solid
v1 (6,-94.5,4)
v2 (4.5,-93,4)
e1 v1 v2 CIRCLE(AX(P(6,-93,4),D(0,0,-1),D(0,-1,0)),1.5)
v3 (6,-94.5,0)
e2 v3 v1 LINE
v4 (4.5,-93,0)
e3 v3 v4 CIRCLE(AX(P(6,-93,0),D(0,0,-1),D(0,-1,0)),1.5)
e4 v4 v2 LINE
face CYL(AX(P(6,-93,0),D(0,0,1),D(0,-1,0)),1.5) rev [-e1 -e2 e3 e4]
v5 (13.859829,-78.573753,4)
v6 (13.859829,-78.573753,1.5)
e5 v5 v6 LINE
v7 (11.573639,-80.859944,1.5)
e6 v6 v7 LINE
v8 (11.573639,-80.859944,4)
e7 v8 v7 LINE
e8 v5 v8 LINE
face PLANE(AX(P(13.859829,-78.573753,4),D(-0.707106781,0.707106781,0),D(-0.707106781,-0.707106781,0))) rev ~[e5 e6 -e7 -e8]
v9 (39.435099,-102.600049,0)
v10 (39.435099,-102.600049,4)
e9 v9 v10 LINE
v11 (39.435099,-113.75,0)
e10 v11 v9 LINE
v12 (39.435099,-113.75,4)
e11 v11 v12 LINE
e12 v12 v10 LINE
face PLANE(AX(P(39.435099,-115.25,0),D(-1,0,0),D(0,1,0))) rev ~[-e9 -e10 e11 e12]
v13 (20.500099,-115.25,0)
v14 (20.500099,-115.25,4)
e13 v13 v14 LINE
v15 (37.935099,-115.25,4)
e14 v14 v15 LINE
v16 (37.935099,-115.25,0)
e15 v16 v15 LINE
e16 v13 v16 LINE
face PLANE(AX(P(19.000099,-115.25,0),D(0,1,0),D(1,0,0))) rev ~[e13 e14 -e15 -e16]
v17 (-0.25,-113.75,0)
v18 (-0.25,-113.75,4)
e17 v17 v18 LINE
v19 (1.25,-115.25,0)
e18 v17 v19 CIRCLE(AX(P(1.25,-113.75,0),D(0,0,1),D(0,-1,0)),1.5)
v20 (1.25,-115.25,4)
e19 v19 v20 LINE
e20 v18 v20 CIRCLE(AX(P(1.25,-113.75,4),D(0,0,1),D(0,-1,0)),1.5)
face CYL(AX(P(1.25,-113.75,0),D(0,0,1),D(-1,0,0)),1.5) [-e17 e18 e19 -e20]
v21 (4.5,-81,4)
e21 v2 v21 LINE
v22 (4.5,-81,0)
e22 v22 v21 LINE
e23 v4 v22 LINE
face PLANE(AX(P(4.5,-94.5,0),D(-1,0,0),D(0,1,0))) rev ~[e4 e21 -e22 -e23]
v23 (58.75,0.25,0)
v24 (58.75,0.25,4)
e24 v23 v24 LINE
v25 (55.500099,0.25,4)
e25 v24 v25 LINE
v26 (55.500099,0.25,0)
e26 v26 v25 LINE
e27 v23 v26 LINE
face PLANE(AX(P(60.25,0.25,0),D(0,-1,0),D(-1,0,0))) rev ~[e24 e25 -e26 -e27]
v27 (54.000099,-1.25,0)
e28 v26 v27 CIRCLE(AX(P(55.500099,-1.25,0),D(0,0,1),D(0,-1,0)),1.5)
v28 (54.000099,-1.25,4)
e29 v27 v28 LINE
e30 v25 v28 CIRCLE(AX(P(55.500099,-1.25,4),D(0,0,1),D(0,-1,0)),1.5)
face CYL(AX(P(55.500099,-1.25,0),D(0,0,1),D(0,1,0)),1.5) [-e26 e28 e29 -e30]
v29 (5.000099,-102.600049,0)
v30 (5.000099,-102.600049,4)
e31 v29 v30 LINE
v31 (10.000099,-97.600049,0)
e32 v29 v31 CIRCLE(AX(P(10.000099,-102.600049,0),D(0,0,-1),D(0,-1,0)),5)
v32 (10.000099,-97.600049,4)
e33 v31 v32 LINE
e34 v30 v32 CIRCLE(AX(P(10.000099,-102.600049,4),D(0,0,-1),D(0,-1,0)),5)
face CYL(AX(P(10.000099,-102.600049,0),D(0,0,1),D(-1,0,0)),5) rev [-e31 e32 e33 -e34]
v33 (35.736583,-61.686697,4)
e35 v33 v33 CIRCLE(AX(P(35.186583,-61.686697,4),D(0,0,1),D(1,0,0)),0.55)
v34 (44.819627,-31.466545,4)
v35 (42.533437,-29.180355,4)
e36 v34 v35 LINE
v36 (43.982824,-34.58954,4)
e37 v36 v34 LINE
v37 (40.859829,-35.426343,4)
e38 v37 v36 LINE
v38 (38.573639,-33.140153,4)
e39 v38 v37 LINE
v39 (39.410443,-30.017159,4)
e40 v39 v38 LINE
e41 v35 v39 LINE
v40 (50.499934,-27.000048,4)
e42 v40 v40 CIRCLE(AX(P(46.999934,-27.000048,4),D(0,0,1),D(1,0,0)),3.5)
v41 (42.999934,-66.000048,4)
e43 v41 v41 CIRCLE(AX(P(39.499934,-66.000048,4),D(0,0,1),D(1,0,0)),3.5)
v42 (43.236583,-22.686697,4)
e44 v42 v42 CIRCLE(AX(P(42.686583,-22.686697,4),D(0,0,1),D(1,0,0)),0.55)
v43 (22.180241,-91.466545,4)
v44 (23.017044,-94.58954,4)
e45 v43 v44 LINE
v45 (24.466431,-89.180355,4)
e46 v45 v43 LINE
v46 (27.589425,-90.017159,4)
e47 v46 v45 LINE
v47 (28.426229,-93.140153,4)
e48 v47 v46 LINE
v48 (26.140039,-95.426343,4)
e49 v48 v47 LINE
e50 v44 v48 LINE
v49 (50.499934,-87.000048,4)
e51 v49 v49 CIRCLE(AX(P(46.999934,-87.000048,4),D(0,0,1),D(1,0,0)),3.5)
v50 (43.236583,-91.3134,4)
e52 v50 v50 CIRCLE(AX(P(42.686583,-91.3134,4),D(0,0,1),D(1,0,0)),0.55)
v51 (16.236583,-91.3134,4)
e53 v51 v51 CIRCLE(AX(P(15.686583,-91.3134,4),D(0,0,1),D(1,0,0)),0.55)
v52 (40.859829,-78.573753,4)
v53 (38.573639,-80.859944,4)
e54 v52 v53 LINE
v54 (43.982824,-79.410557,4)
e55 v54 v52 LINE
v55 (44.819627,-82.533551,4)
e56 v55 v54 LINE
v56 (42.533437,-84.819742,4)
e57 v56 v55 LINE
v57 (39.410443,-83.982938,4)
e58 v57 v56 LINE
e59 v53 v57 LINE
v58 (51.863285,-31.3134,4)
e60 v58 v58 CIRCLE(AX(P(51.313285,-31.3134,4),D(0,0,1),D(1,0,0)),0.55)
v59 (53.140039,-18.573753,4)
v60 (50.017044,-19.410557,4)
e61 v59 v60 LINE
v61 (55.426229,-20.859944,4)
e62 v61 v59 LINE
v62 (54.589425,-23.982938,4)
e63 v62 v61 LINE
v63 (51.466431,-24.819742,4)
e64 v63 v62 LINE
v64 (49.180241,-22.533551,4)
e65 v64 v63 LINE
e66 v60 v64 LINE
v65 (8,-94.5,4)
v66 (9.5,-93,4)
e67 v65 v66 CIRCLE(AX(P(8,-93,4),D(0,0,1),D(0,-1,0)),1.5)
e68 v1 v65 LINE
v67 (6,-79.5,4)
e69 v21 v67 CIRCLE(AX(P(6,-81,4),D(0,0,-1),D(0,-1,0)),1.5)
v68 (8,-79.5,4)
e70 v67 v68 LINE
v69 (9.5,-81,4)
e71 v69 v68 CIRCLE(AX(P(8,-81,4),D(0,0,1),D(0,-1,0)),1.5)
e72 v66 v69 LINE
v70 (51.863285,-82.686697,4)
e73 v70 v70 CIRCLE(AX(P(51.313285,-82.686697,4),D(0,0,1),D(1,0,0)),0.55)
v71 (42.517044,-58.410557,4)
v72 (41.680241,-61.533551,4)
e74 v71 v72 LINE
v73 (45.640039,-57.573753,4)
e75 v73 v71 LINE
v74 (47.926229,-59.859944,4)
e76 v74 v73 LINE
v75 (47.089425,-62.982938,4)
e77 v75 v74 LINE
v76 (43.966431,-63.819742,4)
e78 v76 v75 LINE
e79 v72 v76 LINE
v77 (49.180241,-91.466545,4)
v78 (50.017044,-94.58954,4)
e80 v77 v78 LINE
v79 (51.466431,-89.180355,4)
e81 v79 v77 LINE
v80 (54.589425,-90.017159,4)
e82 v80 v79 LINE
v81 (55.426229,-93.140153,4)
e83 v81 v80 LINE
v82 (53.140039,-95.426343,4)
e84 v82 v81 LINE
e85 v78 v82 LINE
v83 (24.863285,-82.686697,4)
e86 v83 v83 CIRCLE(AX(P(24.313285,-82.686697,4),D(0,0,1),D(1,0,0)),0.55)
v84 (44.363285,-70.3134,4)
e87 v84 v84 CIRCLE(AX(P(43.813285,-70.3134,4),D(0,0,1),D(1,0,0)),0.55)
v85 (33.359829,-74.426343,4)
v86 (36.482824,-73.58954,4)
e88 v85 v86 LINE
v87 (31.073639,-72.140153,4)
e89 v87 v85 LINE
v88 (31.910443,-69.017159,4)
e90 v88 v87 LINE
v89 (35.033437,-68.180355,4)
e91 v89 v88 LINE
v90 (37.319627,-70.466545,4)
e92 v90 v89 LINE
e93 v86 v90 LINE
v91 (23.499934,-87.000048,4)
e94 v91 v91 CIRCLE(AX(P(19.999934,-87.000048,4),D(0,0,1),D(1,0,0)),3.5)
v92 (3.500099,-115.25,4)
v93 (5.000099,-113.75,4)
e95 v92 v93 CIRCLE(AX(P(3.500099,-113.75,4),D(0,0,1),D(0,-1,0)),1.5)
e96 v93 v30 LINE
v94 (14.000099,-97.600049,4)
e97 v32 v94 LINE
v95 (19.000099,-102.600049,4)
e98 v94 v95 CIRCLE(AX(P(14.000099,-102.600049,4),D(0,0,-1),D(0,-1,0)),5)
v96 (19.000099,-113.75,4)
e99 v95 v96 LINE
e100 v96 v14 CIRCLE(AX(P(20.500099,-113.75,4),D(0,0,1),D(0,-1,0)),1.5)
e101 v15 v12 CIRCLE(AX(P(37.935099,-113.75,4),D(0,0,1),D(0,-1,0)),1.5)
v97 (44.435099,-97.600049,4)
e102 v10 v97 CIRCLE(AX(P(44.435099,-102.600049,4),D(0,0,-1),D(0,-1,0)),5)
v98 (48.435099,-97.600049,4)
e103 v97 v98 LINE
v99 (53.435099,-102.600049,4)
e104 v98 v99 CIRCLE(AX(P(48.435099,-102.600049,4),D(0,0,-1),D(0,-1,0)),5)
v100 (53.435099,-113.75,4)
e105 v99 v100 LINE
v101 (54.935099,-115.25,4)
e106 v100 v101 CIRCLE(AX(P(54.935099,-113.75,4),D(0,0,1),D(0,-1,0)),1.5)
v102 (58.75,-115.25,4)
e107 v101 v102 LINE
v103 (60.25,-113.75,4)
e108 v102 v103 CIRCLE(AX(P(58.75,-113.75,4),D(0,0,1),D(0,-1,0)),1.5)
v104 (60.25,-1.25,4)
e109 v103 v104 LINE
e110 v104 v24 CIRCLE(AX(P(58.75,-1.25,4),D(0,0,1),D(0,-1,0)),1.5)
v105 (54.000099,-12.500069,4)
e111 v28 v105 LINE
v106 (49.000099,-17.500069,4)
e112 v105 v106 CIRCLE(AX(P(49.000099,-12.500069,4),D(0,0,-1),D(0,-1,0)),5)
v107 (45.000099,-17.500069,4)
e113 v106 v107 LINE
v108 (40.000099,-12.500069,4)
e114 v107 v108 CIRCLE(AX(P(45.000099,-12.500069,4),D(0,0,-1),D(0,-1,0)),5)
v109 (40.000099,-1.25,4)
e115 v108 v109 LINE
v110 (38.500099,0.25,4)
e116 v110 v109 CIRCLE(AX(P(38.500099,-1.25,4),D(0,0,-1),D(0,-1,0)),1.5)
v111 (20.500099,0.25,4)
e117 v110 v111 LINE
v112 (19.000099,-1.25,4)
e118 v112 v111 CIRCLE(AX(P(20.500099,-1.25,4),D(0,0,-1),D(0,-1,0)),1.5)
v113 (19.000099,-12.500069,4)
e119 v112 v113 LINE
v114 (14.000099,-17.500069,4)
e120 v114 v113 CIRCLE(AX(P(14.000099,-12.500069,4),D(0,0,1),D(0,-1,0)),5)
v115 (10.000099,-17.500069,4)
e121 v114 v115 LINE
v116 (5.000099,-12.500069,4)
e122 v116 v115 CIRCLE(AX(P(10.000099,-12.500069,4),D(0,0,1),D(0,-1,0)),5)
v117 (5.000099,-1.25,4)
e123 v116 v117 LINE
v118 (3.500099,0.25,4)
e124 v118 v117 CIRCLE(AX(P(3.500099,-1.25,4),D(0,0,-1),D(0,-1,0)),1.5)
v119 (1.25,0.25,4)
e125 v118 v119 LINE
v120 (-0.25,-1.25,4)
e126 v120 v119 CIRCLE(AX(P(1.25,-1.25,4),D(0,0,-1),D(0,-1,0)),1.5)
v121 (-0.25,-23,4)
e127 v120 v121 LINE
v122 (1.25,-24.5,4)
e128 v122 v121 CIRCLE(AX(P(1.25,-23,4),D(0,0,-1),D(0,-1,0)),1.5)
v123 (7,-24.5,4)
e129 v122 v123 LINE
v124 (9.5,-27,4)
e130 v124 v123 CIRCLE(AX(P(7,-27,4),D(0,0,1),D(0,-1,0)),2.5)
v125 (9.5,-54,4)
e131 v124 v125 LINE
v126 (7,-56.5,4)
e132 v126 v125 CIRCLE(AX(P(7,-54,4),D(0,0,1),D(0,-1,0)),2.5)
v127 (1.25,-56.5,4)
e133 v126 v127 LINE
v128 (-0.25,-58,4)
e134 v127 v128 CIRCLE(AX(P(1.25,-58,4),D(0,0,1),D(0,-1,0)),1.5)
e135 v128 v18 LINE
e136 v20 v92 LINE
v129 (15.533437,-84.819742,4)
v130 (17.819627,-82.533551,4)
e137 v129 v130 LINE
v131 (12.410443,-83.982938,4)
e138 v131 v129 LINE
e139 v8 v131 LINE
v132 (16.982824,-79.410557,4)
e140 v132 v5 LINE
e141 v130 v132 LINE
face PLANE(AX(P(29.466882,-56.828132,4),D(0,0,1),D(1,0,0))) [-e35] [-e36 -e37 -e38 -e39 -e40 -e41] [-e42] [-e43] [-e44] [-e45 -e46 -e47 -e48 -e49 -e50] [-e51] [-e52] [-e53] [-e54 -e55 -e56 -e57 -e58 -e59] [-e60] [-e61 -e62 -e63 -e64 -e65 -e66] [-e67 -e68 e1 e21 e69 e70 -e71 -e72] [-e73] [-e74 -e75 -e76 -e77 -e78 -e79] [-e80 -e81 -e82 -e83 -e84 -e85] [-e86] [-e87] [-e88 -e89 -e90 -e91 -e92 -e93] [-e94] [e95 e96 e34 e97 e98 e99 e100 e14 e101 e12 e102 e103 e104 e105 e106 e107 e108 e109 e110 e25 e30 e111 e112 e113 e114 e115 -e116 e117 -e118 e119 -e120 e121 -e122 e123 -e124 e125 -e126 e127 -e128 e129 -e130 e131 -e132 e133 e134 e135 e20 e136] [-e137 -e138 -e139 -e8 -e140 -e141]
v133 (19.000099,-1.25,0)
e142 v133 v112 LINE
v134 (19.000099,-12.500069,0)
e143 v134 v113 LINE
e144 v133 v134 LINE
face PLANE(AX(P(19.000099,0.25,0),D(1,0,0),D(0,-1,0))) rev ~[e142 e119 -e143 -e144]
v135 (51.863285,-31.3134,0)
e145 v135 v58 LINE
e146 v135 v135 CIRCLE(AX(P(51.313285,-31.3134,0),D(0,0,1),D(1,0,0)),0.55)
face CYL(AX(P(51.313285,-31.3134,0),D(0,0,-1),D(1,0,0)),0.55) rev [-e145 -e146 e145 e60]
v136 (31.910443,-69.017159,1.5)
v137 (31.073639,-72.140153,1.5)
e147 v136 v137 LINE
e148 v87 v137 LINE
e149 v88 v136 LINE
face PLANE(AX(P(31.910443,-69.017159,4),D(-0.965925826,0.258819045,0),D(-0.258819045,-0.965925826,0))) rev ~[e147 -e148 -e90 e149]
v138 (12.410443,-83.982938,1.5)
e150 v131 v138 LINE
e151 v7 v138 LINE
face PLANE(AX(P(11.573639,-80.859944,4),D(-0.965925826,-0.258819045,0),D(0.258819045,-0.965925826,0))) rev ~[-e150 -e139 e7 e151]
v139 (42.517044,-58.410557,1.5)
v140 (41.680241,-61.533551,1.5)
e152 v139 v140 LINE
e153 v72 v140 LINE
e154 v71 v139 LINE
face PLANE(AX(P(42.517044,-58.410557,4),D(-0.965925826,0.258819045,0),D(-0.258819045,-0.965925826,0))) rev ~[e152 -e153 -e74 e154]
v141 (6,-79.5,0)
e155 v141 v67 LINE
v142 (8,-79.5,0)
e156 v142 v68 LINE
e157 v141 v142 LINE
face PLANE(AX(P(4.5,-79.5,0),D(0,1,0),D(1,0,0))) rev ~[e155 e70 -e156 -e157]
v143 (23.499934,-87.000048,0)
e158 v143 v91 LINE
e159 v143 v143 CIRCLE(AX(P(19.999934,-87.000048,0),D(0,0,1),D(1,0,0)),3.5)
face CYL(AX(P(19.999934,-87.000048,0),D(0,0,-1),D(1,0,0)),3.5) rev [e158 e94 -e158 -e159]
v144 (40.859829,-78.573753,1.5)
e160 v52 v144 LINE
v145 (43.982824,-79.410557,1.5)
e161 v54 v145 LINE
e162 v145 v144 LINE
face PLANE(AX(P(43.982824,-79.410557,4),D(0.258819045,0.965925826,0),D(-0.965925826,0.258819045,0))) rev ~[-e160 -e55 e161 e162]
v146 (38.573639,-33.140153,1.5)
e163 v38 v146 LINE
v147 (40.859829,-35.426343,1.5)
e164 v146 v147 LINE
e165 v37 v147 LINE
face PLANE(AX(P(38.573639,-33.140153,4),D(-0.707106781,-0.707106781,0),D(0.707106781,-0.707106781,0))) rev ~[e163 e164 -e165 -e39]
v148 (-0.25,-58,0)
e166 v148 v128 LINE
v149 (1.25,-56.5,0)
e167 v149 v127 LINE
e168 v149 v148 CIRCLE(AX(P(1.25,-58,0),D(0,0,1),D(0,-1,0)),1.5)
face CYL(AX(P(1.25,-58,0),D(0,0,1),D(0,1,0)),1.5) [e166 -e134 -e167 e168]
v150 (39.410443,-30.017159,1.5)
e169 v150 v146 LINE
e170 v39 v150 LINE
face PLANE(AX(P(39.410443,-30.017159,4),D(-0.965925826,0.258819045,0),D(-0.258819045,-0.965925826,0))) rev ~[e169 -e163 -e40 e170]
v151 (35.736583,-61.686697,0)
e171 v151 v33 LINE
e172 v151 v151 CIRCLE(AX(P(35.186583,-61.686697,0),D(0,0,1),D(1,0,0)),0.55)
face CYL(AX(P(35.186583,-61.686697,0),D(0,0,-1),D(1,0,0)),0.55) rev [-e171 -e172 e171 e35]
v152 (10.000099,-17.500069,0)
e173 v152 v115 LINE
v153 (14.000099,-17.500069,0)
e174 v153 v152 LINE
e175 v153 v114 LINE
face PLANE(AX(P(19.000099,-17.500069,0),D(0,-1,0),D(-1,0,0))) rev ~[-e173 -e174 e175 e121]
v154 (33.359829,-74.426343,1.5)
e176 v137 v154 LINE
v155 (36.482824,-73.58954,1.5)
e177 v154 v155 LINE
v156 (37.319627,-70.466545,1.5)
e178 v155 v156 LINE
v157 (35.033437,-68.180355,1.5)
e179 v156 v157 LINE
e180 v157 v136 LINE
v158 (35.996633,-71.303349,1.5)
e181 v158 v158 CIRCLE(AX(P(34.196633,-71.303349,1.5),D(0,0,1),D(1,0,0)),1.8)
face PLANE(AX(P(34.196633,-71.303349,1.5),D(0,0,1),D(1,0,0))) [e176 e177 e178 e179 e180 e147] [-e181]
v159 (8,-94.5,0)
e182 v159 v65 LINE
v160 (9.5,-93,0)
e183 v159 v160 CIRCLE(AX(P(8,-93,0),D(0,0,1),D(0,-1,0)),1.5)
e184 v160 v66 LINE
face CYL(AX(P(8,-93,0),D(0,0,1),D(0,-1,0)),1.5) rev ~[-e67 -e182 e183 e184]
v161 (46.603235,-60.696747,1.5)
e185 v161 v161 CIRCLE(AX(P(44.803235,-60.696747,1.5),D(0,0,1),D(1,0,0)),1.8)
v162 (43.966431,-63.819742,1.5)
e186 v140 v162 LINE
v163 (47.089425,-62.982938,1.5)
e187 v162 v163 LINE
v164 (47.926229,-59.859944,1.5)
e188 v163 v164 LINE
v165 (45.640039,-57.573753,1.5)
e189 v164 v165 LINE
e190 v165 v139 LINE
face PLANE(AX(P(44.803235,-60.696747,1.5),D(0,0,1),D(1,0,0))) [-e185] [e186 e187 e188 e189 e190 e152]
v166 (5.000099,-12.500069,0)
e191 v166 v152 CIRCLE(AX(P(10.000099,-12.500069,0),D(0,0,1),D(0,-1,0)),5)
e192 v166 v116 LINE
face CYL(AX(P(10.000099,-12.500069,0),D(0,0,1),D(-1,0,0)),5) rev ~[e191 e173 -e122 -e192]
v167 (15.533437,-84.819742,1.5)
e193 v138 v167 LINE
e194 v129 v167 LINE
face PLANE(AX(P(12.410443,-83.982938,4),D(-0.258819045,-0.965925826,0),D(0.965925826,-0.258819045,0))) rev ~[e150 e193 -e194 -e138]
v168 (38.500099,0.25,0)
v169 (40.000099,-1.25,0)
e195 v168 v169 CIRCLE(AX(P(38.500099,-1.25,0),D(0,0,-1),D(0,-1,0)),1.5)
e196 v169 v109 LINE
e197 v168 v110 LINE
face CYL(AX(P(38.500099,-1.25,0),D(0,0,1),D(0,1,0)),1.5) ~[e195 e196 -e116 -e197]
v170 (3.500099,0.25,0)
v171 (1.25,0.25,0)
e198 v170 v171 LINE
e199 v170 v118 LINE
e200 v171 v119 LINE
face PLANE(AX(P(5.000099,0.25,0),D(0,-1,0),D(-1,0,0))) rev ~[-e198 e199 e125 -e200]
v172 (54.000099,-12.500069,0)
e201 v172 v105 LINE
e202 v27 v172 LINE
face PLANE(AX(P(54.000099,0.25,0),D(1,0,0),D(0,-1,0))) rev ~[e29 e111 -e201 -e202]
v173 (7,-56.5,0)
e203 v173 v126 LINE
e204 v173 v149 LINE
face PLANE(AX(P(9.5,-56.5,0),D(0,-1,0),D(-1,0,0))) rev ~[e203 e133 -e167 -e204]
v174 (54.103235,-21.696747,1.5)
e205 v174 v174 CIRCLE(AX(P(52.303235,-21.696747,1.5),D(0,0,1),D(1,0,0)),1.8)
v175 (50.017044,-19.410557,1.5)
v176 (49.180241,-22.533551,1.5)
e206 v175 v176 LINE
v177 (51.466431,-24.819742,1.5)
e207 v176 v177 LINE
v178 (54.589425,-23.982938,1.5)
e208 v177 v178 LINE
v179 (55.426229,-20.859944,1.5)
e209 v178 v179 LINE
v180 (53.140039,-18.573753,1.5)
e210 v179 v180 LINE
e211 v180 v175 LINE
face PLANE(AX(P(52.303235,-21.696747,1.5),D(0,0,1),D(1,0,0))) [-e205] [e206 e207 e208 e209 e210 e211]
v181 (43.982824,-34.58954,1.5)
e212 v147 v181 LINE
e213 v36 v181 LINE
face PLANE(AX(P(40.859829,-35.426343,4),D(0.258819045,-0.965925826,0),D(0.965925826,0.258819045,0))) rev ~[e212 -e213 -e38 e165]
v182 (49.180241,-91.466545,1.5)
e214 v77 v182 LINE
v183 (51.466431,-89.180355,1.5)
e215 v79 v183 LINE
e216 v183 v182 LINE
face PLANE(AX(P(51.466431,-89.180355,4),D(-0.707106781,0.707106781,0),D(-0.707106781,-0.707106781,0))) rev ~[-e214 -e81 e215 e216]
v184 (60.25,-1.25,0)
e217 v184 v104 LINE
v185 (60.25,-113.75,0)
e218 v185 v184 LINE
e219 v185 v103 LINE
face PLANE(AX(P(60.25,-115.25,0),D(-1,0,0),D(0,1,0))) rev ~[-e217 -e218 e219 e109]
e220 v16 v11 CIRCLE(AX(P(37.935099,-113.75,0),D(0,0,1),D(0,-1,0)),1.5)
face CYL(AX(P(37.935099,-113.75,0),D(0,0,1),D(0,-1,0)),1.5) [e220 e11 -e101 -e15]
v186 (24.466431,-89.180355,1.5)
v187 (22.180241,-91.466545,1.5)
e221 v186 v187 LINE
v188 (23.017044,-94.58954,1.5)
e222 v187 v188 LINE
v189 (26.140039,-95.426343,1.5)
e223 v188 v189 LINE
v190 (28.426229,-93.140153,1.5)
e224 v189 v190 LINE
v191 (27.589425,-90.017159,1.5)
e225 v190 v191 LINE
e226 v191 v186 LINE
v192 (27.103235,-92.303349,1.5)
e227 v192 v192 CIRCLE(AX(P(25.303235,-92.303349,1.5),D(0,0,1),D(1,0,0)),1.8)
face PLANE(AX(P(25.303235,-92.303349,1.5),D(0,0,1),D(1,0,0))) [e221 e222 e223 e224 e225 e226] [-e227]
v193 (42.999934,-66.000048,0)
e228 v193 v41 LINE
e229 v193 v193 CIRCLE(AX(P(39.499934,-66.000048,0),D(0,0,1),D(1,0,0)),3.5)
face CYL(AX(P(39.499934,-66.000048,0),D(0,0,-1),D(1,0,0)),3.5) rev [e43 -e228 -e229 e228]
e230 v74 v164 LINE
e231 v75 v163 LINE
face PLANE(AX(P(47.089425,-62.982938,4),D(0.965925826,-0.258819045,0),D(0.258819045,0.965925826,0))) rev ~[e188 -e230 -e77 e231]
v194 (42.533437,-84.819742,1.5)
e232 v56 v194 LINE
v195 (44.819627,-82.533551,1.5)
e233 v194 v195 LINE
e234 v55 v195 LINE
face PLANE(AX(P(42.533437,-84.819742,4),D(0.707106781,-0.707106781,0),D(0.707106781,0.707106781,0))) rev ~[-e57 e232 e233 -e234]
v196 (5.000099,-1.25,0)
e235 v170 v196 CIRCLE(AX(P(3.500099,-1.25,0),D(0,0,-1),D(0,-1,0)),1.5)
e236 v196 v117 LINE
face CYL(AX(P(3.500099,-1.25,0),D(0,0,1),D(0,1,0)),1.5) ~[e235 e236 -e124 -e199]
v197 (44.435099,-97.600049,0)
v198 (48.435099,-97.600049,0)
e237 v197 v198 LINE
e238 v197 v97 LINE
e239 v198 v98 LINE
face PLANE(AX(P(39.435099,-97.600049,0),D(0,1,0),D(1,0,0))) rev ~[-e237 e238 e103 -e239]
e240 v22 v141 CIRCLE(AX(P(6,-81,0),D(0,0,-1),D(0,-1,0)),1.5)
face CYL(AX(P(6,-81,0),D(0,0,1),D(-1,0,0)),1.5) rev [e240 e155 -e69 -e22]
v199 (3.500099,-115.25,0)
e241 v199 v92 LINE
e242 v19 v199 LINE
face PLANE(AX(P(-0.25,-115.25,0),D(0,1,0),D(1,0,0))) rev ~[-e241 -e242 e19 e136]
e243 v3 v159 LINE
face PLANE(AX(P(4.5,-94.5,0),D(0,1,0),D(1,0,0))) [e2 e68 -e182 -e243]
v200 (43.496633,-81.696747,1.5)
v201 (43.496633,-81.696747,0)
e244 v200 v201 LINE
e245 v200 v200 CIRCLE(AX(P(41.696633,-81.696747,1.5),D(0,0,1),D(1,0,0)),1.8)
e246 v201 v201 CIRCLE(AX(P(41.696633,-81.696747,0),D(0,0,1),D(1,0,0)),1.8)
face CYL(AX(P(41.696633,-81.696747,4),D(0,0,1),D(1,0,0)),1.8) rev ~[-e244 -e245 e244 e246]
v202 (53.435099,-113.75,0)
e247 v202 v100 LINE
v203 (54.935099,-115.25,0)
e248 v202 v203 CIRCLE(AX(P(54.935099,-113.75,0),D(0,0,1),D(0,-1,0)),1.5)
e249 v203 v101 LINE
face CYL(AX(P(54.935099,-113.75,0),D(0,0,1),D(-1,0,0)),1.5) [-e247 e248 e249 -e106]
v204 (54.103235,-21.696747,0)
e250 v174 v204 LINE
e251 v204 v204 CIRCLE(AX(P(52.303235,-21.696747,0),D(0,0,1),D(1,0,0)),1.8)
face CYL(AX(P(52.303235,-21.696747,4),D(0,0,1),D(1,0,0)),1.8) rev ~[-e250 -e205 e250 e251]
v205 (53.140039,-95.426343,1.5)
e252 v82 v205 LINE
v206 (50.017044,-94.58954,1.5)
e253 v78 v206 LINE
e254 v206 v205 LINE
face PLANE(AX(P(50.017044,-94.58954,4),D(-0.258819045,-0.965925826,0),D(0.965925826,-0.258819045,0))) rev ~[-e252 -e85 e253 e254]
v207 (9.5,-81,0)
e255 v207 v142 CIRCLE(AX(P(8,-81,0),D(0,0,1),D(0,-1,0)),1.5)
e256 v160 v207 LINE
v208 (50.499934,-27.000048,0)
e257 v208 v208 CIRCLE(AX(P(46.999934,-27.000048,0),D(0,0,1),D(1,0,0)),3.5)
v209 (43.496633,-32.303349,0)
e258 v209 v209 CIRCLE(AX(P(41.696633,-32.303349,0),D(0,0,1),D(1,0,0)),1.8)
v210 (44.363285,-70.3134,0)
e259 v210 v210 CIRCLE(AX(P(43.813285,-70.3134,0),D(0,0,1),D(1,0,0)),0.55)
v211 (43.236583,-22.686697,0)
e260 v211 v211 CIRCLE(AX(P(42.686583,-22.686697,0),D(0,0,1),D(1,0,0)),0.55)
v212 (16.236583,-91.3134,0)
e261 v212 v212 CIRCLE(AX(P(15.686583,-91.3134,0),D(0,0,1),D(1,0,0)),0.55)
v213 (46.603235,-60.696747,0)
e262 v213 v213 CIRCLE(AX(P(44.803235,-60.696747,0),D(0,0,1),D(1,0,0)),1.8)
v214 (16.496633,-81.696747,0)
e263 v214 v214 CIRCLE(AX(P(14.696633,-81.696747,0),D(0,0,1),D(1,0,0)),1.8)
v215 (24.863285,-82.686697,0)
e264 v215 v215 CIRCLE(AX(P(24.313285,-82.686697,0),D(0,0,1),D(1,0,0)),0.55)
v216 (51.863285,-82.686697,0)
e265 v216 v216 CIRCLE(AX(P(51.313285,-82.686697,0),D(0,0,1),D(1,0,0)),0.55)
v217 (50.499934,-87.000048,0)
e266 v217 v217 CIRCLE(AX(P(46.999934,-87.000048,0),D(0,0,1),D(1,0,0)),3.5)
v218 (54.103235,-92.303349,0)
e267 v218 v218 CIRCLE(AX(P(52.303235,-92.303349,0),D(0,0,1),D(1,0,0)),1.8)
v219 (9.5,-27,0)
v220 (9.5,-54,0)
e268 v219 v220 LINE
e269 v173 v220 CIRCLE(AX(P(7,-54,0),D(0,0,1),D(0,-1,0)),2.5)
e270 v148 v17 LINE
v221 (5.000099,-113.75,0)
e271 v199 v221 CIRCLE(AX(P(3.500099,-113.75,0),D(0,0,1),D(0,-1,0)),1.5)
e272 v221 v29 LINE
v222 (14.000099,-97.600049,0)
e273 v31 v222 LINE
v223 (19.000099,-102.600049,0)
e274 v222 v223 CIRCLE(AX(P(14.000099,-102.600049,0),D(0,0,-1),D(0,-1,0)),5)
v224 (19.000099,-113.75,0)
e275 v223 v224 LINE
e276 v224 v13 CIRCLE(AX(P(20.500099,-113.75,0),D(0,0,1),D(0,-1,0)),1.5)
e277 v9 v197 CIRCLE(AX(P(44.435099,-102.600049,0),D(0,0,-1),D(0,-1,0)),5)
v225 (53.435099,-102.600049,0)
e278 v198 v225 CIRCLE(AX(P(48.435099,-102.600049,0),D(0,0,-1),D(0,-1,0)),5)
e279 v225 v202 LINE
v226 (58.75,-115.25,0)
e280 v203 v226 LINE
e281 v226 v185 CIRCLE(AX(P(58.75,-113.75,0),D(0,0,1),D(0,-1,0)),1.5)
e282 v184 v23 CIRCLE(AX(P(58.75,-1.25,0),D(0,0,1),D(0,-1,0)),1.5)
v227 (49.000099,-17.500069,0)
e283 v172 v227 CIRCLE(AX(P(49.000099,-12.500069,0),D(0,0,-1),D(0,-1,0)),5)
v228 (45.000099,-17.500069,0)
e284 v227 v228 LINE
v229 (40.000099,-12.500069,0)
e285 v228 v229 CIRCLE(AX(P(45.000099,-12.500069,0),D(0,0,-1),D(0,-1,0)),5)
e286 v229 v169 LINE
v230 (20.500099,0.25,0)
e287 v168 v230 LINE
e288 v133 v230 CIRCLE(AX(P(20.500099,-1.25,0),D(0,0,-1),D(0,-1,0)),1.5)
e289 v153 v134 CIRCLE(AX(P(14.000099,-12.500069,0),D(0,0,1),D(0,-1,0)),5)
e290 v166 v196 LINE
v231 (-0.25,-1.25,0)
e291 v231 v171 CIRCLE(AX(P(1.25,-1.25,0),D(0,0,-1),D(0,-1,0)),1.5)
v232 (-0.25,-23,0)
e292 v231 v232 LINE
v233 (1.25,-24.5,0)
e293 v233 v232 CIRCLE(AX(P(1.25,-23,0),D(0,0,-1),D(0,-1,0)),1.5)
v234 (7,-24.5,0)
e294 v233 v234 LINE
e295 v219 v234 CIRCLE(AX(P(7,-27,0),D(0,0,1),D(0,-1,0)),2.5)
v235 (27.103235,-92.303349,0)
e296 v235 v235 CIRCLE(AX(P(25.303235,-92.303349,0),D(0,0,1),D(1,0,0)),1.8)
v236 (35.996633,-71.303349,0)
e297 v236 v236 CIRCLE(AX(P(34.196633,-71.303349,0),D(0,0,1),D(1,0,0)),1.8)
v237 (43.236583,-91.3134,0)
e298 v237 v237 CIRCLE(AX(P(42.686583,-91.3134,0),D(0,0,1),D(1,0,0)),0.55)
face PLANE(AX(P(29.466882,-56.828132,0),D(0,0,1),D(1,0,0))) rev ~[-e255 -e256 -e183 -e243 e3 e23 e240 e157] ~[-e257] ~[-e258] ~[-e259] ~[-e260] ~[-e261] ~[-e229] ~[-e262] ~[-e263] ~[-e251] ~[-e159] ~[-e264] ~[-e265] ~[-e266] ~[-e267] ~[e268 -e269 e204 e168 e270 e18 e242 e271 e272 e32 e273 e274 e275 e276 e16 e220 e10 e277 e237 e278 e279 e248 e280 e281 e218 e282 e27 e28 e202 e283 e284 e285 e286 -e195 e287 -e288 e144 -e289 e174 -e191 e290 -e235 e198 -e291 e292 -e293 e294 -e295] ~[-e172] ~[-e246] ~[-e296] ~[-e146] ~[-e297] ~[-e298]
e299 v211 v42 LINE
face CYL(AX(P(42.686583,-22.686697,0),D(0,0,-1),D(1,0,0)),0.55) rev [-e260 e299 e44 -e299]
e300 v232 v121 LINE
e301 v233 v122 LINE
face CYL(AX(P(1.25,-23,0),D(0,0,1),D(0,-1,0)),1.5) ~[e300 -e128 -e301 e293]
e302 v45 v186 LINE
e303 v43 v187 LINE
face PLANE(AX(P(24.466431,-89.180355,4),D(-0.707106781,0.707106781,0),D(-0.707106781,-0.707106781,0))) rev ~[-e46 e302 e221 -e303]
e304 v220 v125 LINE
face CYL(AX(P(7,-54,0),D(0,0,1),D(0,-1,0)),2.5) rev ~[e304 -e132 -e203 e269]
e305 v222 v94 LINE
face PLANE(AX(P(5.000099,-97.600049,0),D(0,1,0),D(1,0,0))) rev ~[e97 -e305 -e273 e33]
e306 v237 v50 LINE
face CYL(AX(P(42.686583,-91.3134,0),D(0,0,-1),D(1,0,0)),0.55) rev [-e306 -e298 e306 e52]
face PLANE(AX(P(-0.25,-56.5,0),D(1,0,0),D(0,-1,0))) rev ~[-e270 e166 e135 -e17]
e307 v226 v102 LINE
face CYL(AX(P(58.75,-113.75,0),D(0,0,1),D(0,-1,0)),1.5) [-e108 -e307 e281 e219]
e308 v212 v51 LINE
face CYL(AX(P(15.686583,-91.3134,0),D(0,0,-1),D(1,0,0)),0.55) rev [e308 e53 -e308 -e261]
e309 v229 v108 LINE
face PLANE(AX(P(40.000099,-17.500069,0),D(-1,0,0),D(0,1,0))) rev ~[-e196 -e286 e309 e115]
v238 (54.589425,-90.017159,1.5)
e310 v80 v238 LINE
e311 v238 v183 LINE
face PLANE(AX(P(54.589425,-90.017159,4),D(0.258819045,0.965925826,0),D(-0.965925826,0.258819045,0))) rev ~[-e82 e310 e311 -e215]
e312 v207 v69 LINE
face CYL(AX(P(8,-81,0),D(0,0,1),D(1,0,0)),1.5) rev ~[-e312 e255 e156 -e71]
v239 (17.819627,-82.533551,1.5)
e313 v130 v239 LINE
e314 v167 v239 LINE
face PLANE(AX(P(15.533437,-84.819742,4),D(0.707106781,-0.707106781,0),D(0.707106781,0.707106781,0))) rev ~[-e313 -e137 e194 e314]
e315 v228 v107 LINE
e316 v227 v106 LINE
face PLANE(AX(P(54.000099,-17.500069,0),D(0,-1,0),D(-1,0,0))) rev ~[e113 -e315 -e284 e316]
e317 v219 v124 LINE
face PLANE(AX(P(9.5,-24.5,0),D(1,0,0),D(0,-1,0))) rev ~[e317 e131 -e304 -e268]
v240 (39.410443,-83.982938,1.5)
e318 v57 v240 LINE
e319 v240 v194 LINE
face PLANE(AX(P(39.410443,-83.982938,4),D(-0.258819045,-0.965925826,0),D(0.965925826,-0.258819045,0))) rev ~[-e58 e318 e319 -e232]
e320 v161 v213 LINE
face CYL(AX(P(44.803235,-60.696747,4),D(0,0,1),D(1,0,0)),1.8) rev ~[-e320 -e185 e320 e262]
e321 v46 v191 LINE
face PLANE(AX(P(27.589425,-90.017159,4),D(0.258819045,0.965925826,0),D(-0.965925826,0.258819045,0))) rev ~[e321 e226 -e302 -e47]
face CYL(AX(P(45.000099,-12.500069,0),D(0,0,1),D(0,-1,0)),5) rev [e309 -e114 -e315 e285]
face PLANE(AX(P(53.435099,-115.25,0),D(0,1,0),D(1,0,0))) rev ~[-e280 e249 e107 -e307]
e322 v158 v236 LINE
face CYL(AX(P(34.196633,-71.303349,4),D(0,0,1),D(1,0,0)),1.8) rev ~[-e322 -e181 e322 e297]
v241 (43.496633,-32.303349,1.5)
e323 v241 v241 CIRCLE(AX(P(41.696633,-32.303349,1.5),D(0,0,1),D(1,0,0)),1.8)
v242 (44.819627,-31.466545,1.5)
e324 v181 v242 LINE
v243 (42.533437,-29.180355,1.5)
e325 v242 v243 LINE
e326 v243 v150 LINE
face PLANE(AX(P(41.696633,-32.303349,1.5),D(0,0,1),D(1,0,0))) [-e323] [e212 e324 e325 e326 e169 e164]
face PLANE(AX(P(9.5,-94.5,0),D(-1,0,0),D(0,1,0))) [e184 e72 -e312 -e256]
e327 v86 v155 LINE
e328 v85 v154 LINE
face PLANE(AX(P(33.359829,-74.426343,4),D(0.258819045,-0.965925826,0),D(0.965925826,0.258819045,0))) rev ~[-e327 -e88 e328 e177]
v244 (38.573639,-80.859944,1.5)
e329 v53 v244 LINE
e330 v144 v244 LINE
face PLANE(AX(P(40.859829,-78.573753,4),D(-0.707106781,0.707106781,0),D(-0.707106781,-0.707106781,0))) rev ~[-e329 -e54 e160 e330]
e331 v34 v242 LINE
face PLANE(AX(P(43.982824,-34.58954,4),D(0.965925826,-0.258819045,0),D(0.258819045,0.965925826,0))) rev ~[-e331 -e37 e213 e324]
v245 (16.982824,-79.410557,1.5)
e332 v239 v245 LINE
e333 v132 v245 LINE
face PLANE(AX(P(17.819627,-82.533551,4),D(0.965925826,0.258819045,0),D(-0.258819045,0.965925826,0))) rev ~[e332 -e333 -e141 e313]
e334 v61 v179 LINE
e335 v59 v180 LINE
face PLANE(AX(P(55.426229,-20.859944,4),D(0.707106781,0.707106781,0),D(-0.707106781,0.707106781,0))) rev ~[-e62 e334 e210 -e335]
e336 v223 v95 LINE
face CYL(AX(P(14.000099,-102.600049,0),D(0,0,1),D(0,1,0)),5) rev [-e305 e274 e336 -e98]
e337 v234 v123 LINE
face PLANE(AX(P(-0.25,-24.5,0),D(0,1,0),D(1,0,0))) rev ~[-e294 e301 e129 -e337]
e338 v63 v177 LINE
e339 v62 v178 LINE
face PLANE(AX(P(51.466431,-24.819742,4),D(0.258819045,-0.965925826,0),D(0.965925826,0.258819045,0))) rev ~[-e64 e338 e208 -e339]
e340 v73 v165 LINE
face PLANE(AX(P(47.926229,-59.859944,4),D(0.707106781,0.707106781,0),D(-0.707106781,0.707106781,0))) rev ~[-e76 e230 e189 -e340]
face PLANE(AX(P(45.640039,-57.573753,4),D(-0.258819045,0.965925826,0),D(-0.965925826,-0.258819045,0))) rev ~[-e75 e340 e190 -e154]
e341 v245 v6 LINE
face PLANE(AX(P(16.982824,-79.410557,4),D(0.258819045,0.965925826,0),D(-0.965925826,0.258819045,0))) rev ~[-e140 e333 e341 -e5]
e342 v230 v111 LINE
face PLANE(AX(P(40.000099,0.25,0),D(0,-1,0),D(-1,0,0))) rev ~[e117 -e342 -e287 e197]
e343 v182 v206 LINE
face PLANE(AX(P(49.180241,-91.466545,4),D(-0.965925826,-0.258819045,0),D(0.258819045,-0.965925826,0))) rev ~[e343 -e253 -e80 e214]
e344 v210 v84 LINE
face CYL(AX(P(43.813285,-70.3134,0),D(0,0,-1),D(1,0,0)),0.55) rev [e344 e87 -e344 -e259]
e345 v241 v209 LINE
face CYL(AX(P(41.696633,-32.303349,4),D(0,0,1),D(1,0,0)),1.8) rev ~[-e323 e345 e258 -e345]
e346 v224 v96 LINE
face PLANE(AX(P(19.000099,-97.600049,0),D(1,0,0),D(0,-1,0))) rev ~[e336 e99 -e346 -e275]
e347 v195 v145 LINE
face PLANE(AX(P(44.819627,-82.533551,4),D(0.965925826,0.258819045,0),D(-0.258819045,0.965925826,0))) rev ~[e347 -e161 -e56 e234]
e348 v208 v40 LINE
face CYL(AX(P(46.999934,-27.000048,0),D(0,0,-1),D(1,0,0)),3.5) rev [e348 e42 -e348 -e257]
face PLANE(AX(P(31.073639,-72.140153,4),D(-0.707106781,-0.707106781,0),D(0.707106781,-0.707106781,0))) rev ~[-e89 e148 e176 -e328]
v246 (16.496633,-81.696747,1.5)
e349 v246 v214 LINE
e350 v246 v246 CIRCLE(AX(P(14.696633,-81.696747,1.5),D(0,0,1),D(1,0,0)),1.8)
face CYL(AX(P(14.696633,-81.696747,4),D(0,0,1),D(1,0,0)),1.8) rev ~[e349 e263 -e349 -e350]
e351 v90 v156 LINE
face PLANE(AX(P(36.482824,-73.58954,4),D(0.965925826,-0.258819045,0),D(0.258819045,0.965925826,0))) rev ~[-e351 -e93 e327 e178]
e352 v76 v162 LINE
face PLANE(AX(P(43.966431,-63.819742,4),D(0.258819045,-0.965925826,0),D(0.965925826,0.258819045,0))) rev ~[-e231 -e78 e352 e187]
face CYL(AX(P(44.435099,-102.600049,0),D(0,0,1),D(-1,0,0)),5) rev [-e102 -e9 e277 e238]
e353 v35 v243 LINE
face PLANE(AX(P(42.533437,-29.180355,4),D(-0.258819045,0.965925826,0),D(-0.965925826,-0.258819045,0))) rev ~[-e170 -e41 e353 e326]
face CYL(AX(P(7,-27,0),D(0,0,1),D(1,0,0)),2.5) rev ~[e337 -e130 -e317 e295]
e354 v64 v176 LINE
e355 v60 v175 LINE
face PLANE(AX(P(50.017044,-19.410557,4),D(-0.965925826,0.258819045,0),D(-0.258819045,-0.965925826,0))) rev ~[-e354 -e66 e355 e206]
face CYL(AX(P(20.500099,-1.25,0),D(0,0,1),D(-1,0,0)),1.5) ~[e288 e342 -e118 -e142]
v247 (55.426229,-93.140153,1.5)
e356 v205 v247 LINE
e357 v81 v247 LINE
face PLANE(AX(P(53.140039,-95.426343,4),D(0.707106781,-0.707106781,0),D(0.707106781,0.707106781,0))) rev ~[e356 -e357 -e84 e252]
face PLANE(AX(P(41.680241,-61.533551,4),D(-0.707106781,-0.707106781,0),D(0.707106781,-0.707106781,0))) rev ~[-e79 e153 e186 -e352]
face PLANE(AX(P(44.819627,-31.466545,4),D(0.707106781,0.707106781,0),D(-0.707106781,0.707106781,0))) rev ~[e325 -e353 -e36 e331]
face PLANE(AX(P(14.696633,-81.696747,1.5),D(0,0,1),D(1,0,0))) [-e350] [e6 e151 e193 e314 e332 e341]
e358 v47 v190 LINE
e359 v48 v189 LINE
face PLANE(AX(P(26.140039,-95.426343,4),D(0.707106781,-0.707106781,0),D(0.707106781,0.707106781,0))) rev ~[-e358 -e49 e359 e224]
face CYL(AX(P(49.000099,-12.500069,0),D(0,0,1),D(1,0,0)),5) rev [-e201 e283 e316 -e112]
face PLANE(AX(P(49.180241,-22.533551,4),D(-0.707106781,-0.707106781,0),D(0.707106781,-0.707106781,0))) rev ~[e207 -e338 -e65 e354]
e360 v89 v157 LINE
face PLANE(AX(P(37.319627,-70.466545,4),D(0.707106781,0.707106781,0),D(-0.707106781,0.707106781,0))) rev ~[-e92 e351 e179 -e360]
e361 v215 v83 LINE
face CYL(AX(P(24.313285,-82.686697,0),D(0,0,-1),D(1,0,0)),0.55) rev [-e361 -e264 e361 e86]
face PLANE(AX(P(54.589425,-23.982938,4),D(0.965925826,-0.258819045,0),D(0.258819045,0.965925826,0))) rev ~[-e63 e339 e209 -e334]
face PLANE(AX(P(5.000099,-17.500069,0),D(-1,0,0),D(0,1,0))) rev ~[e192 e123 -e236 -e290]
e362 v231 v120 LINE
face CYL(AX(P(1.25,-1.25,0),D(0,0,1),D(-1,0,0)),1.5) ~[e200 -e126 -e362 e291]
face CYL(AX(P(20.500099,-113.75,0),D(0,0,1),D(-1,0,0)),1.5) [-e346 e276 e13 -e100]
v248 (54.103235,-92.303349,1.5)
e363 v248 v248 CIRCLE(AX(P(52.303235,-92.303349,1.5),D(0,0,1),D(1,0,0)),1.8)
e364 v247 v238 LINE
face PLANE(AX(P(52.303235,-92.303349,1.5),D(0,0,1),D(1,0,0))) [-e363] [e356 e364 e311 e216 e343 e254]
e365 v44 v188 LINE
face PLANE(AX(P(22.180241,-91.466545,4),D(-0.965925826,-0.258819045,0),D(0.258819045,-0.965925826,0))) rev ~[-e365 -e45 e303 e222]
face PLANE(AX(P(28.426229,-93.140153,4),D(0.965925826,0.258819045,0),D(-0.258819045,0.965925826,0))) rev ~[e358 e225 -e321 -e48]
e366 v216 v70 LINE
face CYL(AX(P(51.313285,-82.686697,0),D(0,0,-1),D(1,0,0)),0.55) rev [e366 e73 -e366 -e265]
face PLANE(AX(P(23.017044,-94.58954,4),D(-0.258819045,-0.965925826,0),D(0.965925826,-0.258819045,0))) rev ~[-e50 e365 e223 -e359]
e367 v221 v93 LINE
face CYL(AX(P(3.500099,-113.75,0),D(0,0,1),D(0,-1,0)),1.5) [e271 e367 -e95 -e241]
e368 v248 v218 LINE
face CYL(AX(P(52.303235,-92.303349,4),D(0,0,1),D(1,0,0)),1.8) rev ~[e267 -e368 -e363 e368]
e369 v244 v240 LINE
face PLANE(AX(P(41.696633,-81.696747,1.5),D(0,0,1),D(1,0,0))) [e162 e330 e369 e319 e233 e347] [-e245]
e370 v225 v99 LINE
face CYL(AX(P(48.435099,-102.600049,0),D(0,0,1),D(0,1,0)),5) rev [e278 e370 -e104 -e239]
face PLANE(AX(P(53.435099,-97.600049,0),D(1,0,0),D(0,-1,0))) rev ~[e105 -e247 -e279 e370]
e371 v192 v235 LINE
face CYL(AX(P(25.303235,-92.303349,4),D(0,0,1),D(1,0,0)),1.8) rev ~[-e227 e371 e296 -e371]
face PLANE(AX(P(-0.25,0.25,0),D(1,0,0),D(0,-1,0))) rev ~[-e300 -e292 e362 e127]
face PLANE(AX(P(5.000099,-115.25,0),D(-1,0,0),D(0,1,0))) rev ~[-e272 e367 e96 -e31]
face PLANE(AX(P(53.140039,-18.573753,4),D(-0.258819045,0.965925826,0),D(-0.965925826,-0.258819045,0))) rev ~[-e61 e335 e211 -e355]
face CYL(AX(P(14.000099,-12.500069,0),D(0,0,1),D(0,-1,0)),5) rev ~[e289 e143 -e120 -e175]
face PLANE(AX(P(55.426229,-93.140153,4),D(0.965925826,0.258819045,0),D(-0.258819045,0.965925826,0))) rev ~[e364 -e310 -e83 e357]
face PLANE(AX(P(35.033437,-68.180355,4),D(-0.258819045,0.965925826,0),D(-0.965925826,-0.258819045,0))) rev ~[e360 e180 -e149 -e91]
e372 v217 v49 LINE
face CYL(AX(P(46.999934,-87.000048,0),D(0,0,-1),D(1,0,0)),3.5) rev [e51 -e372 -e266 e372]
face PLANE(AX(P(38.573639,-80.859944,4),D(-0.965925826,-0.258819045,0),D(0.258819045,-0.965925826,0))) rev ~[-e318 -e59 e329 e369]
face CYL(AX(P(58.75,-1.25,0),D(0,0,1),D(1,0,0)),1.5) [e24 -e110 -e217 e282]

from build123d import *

# Parameters (mm, degrees)
SKETCH1_W           = 5
SKETCH1_H           = 15
SKETCH1_R           = 0.55
SKETCH1_R_2         = 3.5
BOSS_EXTRUDE1_DEPTH = 4
SKETCH2_R           = 1.8
CUT_EXTRUDE1_DEPTH  = 2.5
SKETCH4_R           = 1.8
CUT_EXTRUDE2_DEPTH  = 131.110049573
FILLET1_R           = 5
FILLET2_R           = 2.5
FILLET3_R           = 1.5
FILLET4_R           = 1.5


with BuildPart() as part:
    # Sketch1 → Boss-Extrude1 (new body)
    with BuildSketch(Plane.XY):
        Polygon((5.00009906, -115.25), (5.00009906, -111.60004858), (5.00009906, -97.60004858), (19.00009906, -97.60004858), (19.00009906, -111.60004858), (19.00009906, -115.25), (39.43509906, -115.25), (39.43509906, -111.60004858), (39.43509906, -97.60004858), (53.43509906, -97.60004858), (53.43509906, -111.60004858), (53.43509906, -115.25), (60.25, -115.25), (60.25, 0.25), (54.00009906, 0.25), (54.00009906, -3.50006858), (54.00009906, -17.50006858), (40.00009906, -17.50006858), (40.00009906, -3.50006858), (40.00009906, 0.25), (19.00009906, 0.25), (19.00009906, -3.50006858), (19.00009906, -17.50006858), (5.00009906, -17.50006858), (5.00009906, -3.50006858), (5.00009906, 0.25), (-0.25, 0.25), (-0.25, -24.5), (4.5, -24.5), (9.5, -24.5), (9.5, -41.5), (9.5, -56.5), (4.5, -56.5), (-0.25, -56.5), (-0.25, -115.25), align=None)
        with Locations((7, -87)):
            Rectangle(SKETCH1_W, SKETCH1_H, mode=Mode.SUBTRACT)
        with Locations((15.686582595, -91.313399625)):
            Circle(SKETCH1_R, mode=Mode.SUBTRACT)
        with Locations((19.99993396, -87.00004826)):
            Circle(SKETCH1_R_2, mode=Mode.SUBTRACT)
        with Locations((24.313285325, -82.686696895)):
            Circle(SKETCH1_R, mode=Mode.SUBTRACT)
        with Locations((42.686582595, -91.313399625)):
            Circle(SKETCH1_R, mode=Mode.SUBTRACT)
        with Locations((46.99993396, -87.00004826)):
            Circle(SKETCH1_R_2, mode=Mode.SUBTRACT)
        with Locations((35.186582595, -61.686696895)):
            Circle(SKETCH1_R, mode=Mode.SUBTRACT)
        with Locations((39.49993396, -66.00004826)):
            Circle(SKETCH1_R_2, mode=Mode.SUBTRACT)
        with Locations((43.813285325, -70.313399625)):
            Circle(SKETCH1_R, mode=Mode.SUBTRACT)
        with Locations((51.313285325, -82.686696895)):
            Circle(SKETCH1_R, mode=Mode.SUBTRACT)
        with Locations((51.313285325, -31.313399625)):
            Circle(SKETCH1_R, mode=Mode.SUBTRACT)
        with Locations((42.686582595, -22.686696895)):
            Circle(SKETCH1_R, mode=Mode.SUBTRACT)
        with Locations((46.99993396, -27.00004826)):
            Circle(SKETCH1_R_2, mode=Mode.SUBTRACT)
    extrude(amount=BOSS_EXTRUDE1_DEPTH)

    # Sketch2 → Cut-Extrude1 (cut)
    # profile 1 of 8: a face of its own
    with BuildSketch(Plane.XY.offset(4)):
        Polygon((26.140038593, -95.42634332), (28.42622902, -93.140152893), (27.589425245, -90.017158692), (24.466431045, -89.180354918), (22.180240618, -91.466545345), (23.017044392, -94.589539545), align=None)
        with Locations((25.303234819, -92.303349119)):
            Circle(SKETCH2_R, mode=Mode.SUBTRACT)
    # profile 2 of 8: a face of its own
    with BuildSketch(Plane.XY.offset(4)):
        Polygon((13.859829327, -78.5737532), (11.5736389, -80.859943627), (12.410442675, -83.982937828), (15.533436875, -84.819741602), (17.819627302, -82.533551175), (16.982823528, -79.410556975), align=None)
        with Locations((14.696633101, -81.696747401)):
            Circle(SKETCH2_R, mode=Mode.SUBTRACT)
    # profile 3 of 8: a face of its own
    with BuildSketch(Plane.XY.offset(4)):
        Polygon((53.140038593, -95.42634332), (55.42622902, -93.140152893), (54.589425245, -90.017158692), (51.466431045, -89.180354918), (49.180240618, -91.466545345), (50.017044392, -94.589539545), align=None)
        with Locations((52.303234819, -92.303349119)):
            Circle(SKETCH2_R, mode=Mode.SUBTRACT)
    # profile 4 of 8: a face of its own
    with BuildSketch(Plane.XY.offset(4)):
        Polygon((38.5736389, -80.859943627), (39.410442675, -83.982937828), (42.533436875, -84.819741602), (44.819627302, -82.533551175), (43.982823528, -79.410556975), (40.859829327, -78.5737532), align=None)
        with Locations((41.696633101, -81.696747401)):
            Circle(SKETCH2_R, mode=Mode.SUBTRACT)
    # profile 5 of 8: a face of its own
    with BuildSketch(Plane.XY.offset(4)):
        Polygon((31.0736389, -72.140152893), (33.359829327, -74.42634332), (36.482823528, -73.589539545), (37.319627302, -70.466545345), (35.033436875, -68.180354918), (31.910442675, -69.017158692), align=None)
        with Locations((34.196633101, -71.303349119)):
            Circle(SKETCH2_R, mode=Mode.SUBTRACT)
    # profile 6 of 8: a face of its own
    with BuildSketch(Plane.XY.offset(4)):
        Polygon((47.92622902, -59.859943627), (45.640038593, -57.5737532), (42.517044392, -58.410556975), (41.680240618, -61.533551175), (43.966431045, -63.819741602), (47.089425245, -62.982937828), align=None)
        with Locations((44.803234819, -60.696747401)):
            Circle(SKETCH2_R, mode=Mode.SUBTRACT)
    # profile 7 of 8: a face of its own
    with BuildSketch(Plane.XY.offset(4)):
        Polygon((44.819627302, -31.466545345), (42.533436875, -29.180354918), (39.410442675, -30.017158692), (38.5736389, -33.140152893), (40.859829327, -35.42634332), (43.982823528, -34.589539545), align=None)
        with Locations((41.696633101, -32.303349119)):
            Circle(SKETCH2_R, mode=Mode.SUBTRACT)
    # profile 8 of 8: a face of its own
    with BuildSketch(Plane.XY.offset(4)):
        Polygon((54.589425245, -23.982937828), (55.42622902, -20.859943627), (53.140038593, -18.5737532), (50.017044392, -19.410556975), (49.180240618, -22.533551175), (51.466431045, -24.819741602), align=None)
        with Locations((52.303234819, -21.696747401)):
            Circle(SKETCH2_R, mode=Mode.SUBTRACT)
    extrude(amount=-CUT_EXTRUDE1_DEPTH, mode=Mode.SUBTRACT)

    # Sketch4 → Cut-Extrude2 (cut, through all)
    with BuildSketch(Plane.XY.offset(4)):
        with Locations((52.303234819, -21.696747401)):
            Circle(SKETCH4_R)
        with Locations((41.696633101, -32.303349119)):
            Circle(SKETCH4_R)
        with Locations((44.803234819, -60.696747401)):
            Circle(SKETCH4_R)
        with Locations((34.196633101, -71.303349119)):
            Circle(SKETCH4_R)
        with Locations((41.696633101, -81.696747401)):
            Circle(SKETCH4_R)
        with Locations((52.303234819, -92.303349119)):
            Circle(SKETCH4_R)
        with Locations((25.303234819, -92.303349119)):
            Circle(SKETCH4_R)
        with Locations((14.696633101, -81.696747401)):
            Circle(SKETCH4_R)
    extrude(amount=-CUT_EXTRUDE2_DEPTH, mode=Mode.SUBTRACT)

    # Fillet1
    fillet1_edges = [part.edges().sort_by_distance(p)[0] for p in [
        (53.43509906, -97.60004858, 2),
        (39.43509906, -97.60004858, 2),
        (19.00009906, -97.60004858, 2),
        (5.00009906, -97.60004858, 2),
        (5.00009906, -17.50006858, 2),
        (19.00009906, -17.50006858, 2),
        (40.00009906, -17.50006858, 2),
        (54.00009906, -17.50006858, 2),
    ]]
    fillet(fillet1_edges, radius=FILLET1_R)

    # Fillet2
    fillet2_edges = [part.edges().sort_by_distance(p)[0] for p in [
        (9.5, -56.5, 2),
        (9.5, -24.5, 2),
    ]]
    fillet(fillet2_edges, radius=FILLET2_R)

    # Fillet3
    fillet3_edges = [part.edges().sort_by_distance(p)[0] for p in [
        (4.5, -94.5, 2),
        (9.5, -94.5, 2),
        (9.5, -79.5, 2),
        (4.5, -79.5, 2),
    ]]
    fillet(fillet3_edges, radius=FILLET3_R)

    # Fillet4
    fillet4_edges = [part.edges().sort_by_distance(p)[0] for p in [
        (60.25, 0.25, 2),
        (60.25, -115.25, 2),
        (53.43509906, -115.25, 2),
        (39.43509906, -115.25, 2),
        (19.00009906, -115.25, 2),
        (5.00009906, -115.25, 2),
        (-0.25, -115.25, 2),
        (-0.25, -56.5, 2),
        (-0.25, -24.5, 2),
        (-0.25, 0.25, 2),
        (5.00009906, 0.25, 2),
        (19.00009906, 0.25, 2),
        (40.00009906, 0.25, 2),
        (54.00009906, 0.25, 2),
    ]]
    fillet(fillet4_edges, radius=FILLET4_R)


solid = part.part
